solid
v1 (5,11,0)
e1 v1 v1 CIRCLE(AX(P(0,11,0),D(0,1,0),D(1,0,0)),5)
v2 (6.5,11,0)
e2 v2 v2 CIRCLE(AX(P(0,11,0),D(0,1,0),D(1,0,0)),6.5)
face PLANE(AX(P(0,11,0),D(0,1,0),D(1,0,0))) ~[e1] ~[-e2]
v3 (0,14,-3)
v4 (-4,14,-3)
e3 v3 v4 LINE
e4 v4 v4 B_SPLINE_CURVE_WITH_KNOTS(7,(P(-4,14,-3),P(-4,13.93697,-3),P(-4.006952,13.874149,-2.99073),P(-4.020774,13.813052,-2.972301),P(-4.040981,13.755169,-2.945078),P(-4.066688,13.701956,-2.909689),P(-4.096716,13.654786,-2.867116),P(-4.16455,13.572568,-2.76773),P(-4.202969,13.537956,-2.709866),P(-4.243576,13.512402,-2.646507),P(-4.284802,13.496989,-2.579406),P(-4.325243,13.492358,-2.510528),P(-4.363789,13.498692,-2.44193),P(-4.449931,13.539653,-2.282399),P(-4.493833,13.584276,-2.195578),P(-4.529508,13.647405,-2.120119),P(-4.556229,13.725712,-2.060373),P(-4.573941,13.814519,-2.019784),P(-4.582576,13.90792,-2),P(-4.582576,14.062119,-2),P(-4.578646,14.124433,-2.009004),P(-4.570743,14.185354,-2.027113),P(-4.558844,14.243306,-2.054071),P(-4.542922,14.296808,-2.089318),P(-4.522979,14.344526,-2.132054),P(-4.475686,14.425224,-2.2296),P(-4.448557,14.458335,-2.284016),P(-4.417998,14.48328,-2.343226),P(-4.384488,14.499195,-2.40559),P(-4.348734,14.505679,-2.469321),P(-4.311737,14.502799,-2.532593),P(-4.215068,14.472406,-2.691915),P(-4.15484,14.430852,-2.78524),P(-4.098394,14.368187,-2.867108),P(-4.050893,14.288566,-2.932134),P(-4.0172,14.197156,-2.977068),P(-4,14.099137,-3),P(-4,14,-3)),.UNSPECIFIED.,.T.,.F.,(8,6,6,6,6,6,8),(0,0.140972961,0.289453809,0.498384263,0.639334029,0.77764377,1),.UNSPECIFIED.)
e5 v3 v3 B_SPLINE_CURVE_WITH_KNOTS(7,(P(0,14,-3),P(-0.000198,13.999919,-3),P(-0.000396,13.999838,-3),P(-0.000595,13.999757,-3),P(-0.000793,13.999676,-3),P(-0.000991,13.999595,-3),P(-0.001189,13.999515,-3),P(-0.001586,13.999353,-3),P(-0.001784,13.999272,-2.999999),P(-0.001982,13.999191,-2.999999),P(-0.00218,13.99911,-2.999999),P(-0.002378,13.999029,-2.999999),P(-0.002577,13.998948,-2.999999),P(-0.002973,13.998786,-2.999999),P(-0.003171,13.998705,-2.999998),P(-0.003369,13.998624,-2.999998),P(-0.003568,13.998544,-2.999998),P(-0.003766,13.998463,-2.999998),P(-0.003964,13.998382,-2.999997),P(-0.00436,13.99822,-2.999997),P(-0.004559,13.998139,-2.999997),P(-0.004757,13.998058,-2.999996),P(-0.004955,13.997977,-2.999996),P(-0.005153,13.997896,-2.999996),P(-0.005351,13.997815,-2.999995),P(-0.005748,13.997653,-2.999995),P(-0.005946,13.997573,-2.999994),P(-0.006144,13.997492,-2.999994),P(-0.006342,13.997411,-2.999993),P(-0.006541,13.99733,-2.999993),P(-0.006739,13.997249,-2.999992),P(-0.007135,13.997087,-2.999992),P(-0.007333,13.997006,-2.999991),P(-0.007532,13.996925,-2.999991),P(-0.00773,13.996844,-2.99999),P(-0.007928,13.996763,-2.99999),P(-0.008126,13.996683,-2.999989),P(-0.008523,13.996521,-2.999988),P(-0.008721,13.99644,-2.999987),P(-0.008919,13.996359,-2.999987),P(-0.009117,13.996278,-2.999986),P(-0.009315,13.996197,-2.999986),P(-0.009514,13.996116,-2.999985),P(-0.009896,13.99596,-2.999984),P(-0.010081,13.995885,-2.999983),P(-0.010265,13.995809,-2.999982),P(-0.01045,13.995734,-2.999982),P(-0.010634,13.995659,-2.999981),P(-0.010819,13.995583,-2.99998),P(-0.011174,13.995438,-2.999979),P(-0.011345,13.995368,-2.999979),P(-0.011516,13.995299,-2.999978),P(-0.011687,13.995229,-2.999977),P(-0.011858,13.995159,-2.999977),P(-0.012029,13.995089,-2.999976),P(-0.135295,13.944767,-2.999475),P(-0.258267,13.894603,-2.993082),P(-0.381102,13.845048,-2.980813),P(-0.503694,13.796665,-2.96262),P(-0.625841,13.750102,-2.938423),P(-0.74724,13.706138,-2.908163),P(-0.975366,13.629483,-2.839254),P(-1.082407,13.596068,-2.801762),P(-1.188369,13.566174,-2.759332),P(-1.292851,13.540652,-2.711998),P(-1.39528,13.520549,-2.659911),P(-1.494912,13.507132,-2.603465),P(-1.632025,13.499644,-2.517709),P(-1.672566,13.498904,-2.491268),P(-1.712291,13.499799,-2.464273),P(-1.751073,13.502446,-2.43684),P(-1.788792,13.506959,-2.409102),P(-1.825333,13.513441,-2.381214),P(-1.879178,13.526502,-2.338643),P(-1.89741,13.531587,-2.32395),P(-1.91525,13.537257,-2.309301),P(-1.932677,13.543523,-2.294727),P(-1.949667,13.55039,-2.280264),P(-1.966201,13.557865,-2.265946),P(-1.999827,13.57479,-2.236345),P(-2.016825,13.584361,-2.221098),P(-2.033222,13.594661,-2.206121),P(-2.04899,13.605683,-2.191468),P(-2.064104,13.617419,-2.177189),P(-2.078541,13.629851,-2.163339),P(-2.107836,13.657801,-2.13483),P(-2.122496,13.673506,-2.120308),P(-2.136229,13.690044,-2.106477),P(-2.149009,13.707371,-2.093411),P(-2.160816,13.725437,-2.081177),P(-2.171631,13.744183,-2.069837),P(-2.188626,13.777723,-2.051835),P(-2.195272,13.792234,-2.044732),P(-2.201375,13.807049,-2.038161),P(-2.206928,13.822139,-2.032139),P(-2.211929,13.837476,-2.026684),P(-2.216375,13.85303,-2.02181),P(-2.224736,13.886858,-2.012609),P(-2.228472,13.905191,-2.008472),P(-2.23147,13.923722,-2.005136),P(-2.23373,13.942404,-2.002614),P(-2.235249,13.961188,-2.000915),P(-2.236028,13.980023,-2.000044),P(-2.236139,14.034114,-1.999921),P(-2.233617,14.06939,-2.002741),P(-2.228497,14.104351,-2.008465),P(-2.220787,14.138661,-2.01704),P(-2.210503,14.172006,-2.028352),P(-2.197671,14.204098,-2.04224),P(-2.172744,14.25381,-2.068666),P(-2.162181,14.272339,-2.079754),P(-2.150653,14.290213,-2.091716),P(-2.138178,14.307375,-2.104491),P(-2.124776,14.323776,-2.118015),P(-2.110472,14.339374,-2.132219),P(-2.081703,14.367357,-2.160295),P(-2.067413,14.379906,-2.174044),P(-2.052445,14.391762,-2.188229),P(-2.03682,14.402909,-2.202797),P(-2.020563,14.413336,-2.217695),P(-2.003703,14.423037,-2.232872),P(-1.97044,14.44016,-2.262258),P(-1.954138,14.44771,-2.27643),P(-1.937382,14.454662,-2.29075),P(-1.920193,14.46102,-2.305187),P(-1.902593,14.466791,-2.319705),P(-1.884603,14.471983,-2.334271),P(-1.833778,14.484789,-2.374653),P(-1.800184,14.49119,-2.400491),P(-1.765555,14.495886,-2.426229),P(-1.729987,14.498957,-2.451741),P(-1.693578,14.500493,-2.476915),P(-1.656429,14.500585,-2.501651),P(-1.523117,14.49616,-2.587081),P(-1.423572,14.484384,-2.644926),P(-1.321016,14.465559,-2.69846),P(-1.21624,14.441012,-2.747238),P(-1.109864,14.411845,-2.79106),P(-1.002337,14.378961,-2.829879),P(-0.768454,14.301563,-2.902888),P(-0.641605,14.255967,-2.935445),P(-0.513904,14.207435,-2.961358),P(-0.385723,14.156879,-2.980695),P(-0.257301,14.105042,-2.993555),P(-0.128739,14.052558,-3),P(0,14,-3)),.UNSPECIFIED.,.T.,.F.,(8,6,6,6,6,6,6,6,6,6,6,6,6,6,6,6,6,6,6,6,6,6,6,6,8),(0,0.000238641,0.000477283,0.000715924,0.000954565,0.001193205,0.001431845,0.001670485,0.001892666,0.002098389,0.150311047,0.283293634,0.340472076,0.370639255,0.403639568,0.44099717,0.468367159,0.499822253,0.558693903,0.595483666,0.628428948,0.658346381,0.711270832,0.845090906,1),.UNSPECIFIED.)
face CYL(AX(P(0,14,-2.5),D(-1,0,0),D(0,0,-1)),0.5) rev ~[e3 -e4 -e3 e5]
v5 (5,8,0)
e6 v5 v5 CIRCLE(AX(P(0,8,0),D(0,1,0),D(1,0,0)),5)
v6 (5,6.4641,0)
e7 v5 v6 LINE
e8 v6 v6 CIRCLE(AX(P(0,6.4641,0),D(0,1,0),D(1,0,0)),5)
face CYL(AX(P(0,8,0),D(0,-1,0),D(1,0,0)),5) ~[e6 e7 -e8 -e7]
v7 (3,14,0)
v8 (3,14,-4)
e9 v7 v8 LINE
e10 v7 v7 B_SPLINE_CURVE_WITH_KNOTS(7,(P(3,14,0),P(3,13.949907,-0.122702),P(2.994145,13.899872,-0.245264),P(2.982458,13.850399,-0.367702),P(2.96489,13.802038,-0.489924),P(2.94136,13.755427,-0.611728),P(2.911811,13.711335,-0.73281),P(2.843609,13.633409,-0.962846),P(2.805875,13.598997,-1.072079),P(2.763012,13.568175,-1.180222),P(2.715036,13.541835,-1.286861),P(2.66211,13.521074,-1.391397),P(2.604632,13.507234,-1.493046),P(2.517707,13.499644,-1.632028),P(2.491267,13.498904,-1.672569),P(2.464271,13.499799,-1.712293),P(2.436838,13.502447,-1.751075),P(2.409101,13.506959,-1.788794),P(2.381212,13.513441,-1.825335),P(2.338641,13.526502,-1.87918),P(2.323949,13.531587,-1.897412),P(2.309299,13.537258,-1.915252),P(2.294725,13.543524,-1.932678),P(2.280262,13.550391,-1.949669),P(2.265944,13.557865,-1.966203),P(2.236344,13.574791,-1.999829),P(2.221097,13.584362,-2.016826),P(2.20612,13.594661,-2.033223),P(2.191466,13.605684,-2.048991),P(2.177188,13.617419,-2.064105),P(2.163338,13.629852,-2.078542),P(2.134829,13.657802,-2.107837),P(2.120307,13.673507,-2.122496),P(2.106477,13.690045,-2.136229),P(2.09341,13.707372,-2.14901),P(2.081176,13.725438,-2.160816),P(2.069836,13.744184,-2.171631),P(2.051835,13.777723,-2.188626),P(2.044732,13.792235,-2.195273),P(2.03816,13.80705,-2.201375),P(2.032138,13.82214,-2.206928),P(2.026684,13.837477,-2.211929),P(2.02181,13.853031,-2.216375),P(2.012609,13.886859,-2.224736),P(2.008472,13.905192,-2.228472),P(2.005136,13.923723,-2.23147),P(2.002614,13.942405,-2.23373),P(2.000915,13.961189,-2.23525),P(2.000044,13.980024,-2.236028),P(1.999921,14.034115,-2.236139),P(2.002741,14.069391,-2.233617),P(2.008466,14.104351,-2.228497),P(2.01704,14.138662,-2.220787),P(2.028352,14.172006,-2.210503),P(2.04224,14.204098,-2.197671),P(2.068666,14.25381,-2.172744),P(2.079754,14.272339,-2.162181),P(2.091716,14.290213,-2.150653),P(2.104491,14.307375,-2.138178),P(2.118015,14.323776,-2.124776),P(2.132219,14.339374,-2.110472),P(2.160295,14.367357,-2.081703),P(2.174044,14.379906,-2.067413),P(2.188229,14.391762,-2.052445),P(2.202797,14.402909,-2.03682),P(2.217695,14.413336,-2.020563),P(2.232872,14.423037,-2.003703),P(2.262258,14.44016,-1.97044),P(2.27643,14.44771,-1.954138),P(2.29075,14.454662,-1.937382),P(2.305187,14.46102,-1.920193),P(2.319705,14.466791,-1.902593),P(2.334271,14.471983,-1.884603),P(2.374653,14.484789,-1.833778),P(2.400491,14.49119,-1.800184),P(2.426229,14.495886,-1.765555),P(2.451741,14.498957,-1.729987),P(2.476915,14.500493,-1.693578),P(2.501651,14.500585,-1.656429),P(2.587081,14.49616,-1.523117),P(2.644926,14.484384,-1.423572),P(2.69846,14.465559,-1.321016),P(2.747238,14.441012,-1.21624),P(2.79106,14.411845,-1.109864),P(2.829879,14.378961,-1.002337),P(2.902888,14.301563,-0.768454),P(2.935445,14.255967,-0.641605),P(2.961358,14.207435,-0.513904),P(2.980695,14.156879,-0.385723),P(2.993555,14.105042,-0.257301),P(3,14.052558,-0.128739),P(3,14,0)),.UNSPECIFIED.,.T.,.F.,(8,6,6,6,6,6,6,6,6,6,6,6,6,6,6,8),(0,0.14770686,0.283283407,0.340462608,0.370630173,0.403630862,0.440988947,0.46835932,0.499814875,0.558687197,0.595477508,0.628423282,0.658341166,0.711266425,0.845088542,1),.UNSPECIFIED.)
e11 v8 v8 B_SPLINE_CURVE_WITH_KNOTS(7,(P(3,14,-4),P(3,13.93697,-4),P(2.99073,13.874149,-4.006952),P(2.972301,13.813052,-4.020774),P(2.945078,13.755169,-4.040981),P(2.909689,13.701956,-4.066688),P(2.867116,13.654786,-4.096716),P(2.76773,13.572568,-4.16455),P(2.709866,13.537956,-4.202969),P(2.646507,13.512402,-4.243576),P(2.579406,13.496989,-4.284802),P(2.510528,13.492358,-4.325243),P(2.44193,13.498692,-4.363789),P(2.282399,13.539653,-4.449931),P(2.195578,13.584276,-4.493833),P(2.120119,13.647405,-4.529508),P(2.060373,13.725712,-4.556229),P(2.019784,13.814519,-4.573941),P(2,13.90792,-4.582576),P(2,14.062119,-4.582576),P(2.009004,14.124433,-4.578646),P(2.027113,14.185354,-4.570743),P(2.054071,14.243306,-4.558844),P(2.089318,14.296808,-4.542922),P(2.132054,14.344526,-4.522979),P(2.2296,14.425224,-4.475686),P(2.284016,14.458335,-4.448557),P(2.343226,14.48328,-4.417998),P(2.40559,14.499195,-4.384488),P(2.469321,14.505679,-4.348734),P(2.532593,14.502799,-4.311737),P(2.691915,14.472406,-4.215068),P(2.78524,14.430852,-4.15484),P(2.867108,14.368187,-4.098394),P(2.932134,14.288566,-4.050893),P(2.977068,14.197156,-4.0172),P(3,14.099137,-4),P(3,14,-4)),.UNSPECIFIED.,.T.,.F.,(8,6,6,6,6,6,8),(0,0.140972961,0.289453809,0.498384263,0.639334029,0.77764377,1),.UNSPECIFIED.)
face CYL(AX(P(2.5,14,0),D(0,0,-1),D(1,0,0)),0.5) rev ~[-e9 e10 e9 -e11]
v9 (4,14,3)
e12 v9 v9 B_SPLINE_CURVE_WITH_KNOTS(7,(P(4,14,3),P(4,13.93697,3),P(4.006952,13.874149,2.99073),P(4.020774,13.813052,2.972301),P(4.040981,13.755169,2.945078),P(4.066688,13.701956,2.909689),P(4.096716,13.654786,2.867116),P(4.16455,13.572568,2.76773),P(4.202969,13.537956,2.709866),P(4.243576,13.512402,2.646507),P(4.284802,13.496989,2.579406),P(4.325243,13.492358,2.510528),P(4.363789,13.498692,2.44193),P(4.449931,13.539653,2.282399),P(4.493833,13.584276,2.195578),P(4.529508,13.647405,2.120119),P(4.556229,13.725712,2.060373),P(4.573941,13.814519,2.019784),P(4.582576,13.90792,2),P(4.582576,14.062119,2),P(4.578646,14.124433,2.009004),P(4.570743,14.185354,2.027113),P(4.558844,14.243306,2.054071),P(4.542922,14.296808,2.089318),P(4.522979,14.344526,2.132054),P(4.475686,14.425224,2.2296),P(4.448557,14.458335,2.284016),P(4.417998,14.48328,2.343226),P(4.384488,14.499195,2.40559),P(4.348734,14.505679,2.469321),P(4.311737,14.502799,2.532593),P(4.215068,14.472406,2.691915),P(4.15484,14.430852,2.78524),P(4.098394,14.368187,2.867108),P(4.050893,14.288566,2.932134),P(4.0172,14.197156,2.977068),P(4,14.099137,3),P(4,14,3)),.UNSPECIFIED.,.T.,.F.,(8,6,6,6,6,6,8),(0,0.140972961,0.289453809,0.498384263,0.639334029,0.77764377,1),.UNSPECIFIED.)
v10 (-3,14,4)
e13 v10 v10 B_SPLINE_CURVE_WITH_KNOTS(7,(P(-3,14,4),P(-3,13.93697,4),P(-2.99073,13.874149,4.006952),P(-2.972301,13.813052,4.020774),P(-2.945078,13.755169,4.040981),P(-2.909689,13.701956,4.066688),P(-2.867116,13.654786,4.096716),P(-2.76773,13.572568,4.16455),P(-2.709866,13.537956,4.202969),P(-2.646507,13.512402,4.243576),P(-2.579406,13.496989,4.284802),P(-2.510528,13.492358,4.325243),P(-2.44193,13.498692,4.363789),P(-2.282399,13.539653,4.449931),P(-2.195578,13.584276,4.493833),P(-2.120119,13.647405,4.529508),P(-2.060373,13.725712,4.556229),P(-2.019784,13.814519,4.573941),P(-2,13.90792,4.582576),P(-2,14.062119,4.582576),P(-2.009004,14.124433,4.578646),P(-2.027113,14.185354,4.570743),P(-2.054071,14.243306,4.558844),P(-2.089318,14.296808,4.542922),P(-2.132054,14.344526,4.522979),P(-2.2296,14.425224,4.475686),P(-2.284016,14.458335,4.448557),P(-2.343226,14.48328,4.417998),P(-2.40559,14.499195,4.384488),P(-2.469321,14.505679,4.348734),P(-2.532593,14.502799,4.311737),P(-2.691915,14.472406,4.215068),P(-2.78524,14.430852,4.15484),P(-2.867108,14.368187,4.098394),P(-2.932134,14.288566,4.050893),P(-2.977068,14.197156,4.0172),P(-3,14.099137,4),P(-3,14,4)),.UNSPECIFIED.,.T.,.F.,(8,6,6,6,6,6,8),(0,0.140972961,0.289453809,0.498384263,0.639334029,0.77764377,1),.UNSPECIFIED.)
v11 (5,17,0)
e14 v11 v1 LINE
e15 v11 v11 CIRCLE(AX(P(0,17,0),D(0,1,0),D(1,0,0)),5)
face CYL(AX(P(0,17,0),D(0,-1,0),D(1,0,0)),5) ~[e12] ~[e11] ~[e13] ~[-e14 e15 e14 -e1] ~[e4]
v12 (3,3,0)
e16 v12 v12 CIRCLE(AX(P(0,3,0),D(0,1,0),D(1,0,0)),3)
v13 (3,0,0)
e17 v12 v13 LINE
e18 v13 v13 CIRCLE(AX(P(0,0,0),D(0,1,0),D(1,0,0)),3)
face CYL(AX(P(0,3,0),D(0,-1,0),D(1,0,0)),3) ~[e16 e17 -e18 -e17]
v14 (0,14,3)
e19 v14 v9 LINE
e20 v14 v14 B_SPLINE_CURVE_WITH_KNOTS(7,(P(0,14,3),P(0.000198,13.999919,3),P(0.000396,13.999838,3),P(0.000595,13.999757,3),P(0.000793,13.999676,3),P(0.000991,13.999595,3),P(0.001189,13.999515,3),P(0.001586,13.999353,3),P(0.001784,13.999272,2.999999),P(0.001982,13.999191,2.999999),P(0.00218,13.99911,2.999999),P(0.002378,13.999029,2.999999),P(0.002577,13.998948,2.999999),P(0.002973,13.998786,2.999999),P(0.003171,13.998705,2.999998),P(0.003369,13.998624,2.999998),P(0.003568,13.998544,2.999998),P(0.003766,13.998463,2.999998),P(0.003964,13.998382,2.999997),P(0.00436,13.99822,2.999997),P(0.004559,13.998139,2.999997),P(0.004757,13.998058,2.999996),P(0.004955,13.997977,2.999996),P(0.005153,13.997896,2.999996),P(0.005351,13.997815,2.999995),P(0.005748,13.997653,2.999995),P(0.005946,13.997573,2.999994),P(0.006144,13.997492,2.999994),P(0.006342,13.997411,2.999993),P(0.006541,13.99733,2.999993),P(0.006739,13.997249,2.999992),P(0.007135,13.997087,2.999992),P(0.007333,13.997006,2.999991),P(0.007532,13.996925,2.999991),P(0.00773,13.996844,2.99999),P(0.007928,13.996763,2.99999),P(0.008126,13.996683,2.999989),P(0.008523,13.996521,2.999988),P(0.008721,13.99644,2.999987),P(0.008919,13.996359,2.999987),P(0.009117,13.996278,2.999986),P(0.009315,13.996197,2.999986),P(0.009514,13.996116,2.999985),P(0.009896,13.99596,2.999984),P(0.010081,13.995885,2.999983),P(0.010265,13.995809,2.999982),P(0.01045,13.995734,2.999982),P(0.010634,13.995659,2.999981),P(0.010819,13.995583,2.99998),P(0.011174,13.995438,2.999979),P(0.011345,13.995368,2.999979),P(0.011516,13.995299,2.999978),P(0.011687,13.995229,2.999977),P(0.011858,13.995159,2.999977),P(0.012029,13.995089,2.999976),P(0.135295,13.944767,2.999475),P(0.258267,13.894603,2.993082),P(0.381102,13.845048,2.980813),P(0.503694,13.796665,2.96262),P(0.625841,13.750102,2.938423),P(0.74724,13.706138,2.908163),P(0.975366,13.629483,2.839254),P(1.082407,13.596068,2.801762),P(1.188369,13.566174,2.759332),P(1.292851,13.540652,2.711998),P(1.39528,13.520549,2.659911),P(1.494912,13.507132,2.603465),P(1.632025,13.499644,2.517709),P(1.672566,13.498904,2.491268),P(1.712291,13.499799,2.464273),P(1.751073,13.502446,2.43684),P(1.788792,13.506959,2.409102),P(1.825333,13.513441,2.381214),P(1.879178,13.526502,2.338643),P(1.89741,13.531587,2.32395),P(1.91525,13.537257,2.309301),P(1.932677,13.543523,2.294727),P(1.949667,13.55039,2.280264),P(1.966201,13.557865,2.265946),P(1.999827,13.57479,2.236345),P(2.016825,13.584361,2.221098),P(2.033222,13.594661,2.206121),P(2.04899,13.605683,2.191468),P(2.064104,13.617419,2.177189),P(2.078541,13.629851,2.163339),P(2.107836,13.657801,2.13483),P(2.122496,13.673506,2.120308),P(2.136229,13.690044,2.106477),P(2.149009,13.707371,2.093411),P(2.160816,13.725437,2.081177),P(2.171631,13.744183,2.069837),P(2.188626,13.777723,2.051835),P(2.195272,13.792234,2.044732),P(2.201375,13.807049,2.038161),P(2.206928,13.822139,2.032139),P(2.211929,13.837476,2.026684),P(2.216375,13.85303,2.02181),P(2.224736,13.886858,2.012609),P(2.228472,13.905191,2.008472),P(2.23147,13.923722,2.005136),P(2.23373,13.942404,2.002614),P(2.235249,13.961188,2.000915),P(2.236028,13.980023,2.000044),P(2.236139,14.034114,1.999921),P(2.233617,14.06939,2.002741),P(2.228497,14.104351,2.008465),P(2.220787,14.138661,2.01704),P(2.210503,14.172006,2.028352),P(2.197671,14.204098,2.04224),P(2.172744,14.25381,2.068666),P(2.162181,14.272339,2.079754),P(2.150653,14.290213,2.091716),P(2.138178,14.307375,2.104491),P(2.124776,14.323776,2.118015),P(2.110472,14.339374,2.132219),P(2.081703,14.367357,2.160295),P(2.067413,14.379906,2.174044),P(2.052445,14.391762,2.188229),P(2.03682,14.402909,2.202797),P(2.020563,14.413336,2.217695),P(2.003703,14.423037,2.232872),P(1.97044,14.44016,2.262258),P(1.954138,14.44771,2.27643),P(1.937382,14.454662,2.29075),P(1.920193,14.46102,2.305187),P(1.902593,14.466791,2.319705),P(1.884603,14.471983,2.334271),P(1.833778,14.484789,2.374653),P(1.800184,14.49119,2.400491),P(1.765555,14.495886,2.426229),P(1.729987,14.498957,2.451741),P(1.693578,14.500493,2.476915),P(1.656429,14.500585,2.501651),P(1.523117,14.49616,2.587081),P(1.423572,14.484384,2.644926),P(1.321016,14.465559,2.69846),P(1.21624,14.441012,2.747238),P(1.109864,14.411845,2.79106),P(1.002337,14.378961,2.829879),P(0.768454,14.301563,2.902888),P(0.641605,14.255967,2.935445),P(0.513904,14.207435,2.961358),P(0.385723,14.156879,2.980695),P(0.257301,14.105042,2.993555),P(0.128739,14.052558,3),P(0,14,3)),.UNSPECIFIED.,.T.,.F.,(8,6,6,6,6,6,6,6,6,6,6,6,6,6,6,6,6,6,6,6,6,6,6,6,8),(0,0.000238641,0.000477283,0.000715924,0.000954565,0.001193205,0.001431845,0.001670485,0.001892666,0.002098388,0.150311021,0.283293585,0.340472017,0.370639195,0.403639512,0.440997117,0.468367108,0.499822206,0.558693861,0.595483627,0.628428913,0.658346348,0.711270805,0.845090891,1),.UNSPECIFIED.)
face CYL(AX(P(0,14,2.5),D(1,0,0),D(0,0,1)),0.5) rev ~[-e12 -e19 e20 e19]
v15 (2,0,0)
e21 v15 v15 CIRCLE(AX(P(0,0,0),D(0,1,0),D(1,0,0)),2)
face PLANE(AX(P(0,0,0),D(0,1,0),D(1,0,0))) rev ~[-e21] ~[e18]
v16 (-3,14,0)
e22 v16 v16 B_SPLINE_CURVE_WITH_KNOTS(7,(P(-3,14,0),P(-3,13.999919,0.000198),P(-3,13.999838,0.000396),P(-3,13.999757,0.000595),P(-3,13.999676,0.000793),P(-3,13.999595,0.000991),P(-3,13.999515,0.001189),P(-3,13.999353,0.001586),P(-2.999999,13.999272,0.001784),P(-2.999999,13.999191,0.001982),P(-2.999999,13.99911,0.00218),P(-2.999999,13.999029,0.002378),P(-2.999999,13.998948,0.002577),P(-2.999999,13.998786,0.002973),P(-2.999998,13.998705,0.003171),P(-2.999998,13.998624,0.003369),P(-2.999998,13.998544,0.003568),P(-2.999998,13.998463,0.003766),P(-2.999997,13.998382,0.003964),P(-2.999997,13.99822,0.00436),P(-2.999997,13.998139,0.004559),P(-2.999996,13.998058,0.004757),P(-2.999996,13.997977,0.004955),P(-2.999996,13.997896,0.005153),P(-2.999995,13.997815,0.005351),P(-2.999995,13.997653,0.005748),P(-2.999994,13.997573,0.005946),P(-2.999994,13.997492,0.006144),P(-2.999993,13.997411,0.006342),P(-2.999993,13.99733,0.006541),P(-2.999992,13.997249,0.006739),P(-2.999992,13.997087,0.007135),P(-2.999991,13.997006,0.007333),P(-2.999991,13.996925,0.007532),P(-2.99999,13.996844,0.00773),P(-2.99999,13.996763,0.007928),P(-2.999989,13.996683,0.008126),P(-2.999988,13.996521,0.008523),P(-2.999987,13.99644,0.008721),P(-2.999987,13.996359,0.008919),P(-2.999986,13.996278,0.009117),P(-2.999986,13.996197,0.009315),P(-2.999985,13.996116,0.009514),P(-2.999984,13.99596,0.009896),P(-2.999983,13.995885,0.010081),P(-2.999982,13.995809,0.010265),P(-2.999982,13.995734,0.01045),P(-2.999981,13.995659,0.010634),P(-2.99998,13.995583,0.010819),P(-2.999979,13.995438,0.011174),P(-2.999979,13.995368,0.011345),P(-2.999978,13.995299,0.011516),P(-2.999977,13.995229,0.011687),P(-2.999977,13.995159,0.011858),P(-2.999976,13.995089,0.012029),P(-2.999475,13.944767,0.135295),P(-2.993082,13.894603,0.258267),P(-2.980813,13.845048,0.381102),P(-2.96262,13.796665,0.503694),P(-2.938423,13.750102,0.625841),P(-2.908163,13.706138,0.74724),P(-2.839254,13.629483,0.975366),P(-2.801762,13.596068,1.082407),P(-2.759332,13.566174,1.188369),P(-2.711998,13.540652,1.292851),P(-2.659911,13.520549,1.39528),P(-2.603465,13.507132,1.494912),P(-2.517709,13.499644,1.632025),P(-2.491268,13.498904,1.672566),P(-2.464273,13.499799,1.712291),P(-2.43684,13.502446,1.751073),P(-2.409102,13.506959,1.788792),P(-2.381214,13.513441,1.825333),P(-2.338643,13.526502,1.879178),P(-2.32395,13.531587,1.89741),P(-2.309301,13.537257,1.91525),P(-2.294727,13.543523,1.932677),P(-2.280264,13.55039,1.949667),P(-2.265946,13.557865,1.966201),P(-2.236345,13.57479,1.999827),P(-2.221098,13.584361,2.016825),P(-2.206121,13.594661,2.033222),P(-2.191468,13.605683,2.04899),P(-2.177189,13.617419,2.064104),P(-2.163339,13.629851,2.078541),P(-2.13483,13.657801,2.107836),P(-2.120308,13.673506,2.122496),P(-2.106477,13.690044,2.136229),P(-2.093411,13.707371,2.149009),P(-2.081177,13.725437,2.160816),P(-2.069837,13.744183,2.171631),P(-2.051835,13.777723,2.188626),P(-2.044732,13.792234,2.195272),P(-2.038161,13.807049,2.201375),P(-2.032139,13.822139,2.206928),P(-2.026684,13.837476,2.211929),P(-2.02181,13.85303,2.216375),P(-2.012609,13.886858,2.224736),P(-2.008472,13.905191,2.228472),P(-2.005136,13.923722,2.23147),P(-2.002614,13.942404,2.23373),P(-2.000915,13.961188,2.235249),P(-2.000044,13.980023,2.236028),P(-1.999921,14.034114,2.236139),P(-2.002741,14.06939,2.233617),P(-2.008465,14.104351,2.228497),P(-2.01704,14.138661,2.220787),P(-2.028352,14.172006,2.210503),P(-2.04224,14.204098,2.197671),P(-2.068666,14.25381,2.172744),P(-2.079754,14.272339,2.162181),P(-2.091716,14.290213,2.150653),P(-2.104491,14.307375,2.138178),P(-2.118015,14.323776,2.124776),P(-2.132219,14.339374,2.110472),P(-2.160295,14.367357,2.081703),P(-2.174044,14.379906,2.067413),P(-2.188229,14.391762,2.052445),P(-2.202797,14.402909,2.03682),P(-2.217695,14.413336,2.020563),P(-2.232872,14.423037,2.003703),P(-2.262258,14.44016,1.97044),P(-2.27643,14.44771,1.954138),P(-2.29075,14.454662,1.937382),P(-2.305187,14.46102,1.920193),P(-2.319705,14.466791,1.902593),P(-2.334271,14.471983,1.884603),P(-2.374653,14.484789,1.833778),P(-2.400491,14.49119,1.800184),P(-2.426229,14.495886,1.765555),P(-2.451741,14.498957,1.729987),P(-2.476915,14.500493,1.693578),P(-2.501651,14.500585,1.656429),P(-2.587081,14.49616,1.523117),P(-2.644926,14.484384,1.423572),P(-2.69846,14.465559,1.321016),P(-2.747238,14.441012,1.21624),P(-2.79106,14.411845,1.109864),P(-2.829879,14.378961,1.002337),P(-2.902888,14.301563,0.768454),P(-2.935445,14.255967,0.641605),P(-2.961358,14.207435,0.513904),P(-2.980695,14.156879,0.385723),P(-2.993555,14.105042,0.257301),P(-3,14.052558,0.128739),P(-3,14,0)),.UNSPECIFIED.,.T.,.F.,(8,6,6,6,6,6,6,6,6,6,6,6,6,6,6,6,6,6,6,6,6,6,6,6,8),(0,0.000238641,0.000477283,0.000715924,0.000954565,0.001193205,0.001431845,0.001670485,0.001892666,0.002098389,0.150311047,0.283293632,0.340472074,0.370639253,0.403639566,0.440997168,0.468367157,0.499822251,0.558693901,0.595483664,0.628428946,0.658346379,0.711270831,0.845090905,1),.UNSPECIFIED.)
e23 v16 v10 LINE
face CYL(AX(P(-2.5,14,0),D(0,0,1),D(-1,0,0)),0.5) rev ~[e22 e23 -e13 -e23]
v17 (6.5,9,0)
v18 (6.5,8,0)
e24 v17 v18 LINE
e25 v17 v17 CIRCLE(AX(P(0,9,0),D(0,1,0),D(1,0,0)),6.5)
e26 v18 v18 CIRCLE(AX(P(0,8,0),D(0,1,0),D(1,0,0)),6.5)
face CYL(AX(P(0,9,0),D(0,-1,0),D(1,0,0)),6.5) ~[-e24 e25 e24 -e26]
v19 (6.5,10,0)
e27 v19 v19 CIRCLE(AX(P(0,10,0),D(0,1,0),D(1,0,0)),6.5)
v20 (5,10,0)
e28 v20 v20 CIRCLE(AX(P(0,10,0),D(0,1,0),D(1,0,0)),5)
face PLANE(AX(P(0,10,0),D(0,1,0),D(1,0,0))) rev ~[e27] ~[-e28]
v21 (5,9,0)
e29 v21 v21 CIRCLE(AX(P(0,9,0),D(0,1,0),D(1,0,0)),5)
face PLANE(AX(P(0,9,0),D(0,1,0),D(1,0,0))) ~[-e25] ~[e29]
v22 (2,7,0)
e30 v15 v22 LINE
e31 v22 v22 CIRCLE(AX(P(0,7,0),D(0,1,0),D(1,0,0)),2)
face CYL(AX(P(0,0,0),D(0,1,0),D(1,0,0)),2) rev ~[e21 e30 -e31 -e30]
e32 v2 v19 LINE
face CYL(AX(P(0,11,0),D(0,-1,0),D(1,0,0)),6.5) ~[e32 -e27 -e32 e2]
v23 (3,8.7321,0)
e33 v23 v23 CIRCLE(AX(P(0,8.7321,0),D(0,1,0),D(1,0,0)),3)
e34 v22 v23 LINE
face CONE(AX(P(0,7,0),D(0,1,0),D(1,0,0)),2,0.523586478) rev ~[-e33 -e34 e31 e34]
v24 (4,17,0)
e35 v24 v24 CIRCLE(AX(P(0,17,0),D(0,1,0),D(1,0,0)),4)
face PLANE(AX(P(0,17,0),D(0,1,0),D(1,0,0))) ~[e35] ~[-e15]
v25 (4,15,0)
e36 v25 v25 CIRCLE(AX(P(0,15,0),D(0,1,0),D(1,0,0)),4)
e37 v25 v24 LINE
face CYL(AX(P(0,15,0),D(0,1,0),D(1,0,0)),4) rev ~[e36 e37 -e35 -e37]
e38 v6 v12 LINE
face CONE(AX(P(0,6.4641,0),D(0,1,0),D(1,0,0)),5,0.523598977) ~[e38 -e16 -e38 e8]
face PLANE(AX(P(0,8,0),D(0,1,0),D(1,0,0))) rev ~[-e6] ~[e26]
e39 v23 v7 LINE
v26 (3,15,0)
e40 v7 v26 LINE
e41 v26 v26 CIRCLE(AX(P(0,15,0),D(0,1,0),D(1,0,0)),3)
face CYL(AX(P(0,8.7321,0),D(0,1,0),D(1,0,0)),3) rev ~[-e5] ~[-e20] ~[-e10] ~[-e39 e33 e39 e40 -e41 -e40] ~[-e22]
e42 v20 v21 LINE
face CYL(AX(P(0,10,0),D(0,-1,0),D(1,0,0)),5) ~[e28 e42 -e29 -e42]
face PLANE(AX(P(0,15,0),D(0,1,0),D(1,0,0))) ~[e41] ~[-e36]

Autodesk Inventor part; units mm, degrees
ref_plane "YZ Plane" through (0, 0, 0) normal (1, 0, 0) x (0, 1, 0)
ref_plane "XZ Plane" through (0, 0, 0) normal (0, 1, 0) x (-1, 0, 0)
sketch "Sketch1" plane through (0, 0, 0) normal (0, 0, 1) x (1, 0, 0)
  line L0 (2, 0) -> (2, 7)
  line L1 (2, 7) -> (3, 8.7321)
  line L2 (3, 8.7321) -> (3, 15)
  line L3 (3, 15) -> (4, 15)
  line L4 (4, 15) -> (4, 17)
  line L5 (4, 17) -> (5, 17)
  line L6 (5, 17) -> (5, 11)
  line L7 (5, 11) -> (6.5, 11)
  line L8 (6.5, 11) -> (6.5, 10)
  line L9 (6.5, 10) -> (5, 10)
  line L10 (5, 10) -> (5, 9)
  line L11 (5, 9) -> (6.5, 9)
  line L12 (6.5, 9) -> (6.5, 8)
  line L13 (6.5, 8) -> (5, 8)
  line L14 (5, 8) -> (5, 6.4641)
  line L15 (5, 6.4641) -> (3, 3)
  line L16 (3, 3) -> (3, 0)
  line L17 (3, 0) -> (2, 0)
  line L18 (0, -3.4) -> (0, 20.4) projected
  point P0 (0, 0)
  dimension "d0" = 7
  dimension "d1" = 17
  dimension "d2" = 2
  dimension "d3" = 3
  dimension "d4" = 1
  dimension "d5" = 1
  dimension "d6" = 1
  dimension "d7" = 2
  dimension "d8" = 11
  dimension "d9" = 1.5
  dimension "d10" = 5
  dimension "d11" = 60
  dimension "d13" = 4
  dimension "d14" = 3
  dimension "d48" = 4
revolve "Revolution1" add sketch "Sketch1" angle 360 about axis through (0, -10, 0) along (0, 1, 0)
sketch "Sketch2" plane through (0, 0, 0) normal (1, 0, 0) x (0, 1, 0)
  line L0 (8.7321, 3) -> (15, 3) projected
  point P0 (0, 0)
  point P1 (14, 3)
  dimension "d15" = 1
  dimension "d35" = 3
ref_plane "Work Plane1" through (0, 14, 3) normal (0, 0, -1) x (-1, 0, 0)
sketch "Sketch4" plane through (0, 0, 0) normal (1, 0, 0) x (0, 1, 0)
  line L0 (11, 6.5) -> (11, -6.5) projected
  point P0 (0, 0)
  point P1 (14, 2.5)
  dimension "d36" = 3
  dimension "d37" = 2.5
hole "Hole3" at (0, 14, 2.5) direction (1, 0, 0) diameter 1 end through all
pattern_circular "Circular Pattern2" count 4 over 360 about axis through (0, -10, 0) along (0, 1, 0) of "Hole3"
properties part number "inner element" material "Brass, Soft Yellow"
